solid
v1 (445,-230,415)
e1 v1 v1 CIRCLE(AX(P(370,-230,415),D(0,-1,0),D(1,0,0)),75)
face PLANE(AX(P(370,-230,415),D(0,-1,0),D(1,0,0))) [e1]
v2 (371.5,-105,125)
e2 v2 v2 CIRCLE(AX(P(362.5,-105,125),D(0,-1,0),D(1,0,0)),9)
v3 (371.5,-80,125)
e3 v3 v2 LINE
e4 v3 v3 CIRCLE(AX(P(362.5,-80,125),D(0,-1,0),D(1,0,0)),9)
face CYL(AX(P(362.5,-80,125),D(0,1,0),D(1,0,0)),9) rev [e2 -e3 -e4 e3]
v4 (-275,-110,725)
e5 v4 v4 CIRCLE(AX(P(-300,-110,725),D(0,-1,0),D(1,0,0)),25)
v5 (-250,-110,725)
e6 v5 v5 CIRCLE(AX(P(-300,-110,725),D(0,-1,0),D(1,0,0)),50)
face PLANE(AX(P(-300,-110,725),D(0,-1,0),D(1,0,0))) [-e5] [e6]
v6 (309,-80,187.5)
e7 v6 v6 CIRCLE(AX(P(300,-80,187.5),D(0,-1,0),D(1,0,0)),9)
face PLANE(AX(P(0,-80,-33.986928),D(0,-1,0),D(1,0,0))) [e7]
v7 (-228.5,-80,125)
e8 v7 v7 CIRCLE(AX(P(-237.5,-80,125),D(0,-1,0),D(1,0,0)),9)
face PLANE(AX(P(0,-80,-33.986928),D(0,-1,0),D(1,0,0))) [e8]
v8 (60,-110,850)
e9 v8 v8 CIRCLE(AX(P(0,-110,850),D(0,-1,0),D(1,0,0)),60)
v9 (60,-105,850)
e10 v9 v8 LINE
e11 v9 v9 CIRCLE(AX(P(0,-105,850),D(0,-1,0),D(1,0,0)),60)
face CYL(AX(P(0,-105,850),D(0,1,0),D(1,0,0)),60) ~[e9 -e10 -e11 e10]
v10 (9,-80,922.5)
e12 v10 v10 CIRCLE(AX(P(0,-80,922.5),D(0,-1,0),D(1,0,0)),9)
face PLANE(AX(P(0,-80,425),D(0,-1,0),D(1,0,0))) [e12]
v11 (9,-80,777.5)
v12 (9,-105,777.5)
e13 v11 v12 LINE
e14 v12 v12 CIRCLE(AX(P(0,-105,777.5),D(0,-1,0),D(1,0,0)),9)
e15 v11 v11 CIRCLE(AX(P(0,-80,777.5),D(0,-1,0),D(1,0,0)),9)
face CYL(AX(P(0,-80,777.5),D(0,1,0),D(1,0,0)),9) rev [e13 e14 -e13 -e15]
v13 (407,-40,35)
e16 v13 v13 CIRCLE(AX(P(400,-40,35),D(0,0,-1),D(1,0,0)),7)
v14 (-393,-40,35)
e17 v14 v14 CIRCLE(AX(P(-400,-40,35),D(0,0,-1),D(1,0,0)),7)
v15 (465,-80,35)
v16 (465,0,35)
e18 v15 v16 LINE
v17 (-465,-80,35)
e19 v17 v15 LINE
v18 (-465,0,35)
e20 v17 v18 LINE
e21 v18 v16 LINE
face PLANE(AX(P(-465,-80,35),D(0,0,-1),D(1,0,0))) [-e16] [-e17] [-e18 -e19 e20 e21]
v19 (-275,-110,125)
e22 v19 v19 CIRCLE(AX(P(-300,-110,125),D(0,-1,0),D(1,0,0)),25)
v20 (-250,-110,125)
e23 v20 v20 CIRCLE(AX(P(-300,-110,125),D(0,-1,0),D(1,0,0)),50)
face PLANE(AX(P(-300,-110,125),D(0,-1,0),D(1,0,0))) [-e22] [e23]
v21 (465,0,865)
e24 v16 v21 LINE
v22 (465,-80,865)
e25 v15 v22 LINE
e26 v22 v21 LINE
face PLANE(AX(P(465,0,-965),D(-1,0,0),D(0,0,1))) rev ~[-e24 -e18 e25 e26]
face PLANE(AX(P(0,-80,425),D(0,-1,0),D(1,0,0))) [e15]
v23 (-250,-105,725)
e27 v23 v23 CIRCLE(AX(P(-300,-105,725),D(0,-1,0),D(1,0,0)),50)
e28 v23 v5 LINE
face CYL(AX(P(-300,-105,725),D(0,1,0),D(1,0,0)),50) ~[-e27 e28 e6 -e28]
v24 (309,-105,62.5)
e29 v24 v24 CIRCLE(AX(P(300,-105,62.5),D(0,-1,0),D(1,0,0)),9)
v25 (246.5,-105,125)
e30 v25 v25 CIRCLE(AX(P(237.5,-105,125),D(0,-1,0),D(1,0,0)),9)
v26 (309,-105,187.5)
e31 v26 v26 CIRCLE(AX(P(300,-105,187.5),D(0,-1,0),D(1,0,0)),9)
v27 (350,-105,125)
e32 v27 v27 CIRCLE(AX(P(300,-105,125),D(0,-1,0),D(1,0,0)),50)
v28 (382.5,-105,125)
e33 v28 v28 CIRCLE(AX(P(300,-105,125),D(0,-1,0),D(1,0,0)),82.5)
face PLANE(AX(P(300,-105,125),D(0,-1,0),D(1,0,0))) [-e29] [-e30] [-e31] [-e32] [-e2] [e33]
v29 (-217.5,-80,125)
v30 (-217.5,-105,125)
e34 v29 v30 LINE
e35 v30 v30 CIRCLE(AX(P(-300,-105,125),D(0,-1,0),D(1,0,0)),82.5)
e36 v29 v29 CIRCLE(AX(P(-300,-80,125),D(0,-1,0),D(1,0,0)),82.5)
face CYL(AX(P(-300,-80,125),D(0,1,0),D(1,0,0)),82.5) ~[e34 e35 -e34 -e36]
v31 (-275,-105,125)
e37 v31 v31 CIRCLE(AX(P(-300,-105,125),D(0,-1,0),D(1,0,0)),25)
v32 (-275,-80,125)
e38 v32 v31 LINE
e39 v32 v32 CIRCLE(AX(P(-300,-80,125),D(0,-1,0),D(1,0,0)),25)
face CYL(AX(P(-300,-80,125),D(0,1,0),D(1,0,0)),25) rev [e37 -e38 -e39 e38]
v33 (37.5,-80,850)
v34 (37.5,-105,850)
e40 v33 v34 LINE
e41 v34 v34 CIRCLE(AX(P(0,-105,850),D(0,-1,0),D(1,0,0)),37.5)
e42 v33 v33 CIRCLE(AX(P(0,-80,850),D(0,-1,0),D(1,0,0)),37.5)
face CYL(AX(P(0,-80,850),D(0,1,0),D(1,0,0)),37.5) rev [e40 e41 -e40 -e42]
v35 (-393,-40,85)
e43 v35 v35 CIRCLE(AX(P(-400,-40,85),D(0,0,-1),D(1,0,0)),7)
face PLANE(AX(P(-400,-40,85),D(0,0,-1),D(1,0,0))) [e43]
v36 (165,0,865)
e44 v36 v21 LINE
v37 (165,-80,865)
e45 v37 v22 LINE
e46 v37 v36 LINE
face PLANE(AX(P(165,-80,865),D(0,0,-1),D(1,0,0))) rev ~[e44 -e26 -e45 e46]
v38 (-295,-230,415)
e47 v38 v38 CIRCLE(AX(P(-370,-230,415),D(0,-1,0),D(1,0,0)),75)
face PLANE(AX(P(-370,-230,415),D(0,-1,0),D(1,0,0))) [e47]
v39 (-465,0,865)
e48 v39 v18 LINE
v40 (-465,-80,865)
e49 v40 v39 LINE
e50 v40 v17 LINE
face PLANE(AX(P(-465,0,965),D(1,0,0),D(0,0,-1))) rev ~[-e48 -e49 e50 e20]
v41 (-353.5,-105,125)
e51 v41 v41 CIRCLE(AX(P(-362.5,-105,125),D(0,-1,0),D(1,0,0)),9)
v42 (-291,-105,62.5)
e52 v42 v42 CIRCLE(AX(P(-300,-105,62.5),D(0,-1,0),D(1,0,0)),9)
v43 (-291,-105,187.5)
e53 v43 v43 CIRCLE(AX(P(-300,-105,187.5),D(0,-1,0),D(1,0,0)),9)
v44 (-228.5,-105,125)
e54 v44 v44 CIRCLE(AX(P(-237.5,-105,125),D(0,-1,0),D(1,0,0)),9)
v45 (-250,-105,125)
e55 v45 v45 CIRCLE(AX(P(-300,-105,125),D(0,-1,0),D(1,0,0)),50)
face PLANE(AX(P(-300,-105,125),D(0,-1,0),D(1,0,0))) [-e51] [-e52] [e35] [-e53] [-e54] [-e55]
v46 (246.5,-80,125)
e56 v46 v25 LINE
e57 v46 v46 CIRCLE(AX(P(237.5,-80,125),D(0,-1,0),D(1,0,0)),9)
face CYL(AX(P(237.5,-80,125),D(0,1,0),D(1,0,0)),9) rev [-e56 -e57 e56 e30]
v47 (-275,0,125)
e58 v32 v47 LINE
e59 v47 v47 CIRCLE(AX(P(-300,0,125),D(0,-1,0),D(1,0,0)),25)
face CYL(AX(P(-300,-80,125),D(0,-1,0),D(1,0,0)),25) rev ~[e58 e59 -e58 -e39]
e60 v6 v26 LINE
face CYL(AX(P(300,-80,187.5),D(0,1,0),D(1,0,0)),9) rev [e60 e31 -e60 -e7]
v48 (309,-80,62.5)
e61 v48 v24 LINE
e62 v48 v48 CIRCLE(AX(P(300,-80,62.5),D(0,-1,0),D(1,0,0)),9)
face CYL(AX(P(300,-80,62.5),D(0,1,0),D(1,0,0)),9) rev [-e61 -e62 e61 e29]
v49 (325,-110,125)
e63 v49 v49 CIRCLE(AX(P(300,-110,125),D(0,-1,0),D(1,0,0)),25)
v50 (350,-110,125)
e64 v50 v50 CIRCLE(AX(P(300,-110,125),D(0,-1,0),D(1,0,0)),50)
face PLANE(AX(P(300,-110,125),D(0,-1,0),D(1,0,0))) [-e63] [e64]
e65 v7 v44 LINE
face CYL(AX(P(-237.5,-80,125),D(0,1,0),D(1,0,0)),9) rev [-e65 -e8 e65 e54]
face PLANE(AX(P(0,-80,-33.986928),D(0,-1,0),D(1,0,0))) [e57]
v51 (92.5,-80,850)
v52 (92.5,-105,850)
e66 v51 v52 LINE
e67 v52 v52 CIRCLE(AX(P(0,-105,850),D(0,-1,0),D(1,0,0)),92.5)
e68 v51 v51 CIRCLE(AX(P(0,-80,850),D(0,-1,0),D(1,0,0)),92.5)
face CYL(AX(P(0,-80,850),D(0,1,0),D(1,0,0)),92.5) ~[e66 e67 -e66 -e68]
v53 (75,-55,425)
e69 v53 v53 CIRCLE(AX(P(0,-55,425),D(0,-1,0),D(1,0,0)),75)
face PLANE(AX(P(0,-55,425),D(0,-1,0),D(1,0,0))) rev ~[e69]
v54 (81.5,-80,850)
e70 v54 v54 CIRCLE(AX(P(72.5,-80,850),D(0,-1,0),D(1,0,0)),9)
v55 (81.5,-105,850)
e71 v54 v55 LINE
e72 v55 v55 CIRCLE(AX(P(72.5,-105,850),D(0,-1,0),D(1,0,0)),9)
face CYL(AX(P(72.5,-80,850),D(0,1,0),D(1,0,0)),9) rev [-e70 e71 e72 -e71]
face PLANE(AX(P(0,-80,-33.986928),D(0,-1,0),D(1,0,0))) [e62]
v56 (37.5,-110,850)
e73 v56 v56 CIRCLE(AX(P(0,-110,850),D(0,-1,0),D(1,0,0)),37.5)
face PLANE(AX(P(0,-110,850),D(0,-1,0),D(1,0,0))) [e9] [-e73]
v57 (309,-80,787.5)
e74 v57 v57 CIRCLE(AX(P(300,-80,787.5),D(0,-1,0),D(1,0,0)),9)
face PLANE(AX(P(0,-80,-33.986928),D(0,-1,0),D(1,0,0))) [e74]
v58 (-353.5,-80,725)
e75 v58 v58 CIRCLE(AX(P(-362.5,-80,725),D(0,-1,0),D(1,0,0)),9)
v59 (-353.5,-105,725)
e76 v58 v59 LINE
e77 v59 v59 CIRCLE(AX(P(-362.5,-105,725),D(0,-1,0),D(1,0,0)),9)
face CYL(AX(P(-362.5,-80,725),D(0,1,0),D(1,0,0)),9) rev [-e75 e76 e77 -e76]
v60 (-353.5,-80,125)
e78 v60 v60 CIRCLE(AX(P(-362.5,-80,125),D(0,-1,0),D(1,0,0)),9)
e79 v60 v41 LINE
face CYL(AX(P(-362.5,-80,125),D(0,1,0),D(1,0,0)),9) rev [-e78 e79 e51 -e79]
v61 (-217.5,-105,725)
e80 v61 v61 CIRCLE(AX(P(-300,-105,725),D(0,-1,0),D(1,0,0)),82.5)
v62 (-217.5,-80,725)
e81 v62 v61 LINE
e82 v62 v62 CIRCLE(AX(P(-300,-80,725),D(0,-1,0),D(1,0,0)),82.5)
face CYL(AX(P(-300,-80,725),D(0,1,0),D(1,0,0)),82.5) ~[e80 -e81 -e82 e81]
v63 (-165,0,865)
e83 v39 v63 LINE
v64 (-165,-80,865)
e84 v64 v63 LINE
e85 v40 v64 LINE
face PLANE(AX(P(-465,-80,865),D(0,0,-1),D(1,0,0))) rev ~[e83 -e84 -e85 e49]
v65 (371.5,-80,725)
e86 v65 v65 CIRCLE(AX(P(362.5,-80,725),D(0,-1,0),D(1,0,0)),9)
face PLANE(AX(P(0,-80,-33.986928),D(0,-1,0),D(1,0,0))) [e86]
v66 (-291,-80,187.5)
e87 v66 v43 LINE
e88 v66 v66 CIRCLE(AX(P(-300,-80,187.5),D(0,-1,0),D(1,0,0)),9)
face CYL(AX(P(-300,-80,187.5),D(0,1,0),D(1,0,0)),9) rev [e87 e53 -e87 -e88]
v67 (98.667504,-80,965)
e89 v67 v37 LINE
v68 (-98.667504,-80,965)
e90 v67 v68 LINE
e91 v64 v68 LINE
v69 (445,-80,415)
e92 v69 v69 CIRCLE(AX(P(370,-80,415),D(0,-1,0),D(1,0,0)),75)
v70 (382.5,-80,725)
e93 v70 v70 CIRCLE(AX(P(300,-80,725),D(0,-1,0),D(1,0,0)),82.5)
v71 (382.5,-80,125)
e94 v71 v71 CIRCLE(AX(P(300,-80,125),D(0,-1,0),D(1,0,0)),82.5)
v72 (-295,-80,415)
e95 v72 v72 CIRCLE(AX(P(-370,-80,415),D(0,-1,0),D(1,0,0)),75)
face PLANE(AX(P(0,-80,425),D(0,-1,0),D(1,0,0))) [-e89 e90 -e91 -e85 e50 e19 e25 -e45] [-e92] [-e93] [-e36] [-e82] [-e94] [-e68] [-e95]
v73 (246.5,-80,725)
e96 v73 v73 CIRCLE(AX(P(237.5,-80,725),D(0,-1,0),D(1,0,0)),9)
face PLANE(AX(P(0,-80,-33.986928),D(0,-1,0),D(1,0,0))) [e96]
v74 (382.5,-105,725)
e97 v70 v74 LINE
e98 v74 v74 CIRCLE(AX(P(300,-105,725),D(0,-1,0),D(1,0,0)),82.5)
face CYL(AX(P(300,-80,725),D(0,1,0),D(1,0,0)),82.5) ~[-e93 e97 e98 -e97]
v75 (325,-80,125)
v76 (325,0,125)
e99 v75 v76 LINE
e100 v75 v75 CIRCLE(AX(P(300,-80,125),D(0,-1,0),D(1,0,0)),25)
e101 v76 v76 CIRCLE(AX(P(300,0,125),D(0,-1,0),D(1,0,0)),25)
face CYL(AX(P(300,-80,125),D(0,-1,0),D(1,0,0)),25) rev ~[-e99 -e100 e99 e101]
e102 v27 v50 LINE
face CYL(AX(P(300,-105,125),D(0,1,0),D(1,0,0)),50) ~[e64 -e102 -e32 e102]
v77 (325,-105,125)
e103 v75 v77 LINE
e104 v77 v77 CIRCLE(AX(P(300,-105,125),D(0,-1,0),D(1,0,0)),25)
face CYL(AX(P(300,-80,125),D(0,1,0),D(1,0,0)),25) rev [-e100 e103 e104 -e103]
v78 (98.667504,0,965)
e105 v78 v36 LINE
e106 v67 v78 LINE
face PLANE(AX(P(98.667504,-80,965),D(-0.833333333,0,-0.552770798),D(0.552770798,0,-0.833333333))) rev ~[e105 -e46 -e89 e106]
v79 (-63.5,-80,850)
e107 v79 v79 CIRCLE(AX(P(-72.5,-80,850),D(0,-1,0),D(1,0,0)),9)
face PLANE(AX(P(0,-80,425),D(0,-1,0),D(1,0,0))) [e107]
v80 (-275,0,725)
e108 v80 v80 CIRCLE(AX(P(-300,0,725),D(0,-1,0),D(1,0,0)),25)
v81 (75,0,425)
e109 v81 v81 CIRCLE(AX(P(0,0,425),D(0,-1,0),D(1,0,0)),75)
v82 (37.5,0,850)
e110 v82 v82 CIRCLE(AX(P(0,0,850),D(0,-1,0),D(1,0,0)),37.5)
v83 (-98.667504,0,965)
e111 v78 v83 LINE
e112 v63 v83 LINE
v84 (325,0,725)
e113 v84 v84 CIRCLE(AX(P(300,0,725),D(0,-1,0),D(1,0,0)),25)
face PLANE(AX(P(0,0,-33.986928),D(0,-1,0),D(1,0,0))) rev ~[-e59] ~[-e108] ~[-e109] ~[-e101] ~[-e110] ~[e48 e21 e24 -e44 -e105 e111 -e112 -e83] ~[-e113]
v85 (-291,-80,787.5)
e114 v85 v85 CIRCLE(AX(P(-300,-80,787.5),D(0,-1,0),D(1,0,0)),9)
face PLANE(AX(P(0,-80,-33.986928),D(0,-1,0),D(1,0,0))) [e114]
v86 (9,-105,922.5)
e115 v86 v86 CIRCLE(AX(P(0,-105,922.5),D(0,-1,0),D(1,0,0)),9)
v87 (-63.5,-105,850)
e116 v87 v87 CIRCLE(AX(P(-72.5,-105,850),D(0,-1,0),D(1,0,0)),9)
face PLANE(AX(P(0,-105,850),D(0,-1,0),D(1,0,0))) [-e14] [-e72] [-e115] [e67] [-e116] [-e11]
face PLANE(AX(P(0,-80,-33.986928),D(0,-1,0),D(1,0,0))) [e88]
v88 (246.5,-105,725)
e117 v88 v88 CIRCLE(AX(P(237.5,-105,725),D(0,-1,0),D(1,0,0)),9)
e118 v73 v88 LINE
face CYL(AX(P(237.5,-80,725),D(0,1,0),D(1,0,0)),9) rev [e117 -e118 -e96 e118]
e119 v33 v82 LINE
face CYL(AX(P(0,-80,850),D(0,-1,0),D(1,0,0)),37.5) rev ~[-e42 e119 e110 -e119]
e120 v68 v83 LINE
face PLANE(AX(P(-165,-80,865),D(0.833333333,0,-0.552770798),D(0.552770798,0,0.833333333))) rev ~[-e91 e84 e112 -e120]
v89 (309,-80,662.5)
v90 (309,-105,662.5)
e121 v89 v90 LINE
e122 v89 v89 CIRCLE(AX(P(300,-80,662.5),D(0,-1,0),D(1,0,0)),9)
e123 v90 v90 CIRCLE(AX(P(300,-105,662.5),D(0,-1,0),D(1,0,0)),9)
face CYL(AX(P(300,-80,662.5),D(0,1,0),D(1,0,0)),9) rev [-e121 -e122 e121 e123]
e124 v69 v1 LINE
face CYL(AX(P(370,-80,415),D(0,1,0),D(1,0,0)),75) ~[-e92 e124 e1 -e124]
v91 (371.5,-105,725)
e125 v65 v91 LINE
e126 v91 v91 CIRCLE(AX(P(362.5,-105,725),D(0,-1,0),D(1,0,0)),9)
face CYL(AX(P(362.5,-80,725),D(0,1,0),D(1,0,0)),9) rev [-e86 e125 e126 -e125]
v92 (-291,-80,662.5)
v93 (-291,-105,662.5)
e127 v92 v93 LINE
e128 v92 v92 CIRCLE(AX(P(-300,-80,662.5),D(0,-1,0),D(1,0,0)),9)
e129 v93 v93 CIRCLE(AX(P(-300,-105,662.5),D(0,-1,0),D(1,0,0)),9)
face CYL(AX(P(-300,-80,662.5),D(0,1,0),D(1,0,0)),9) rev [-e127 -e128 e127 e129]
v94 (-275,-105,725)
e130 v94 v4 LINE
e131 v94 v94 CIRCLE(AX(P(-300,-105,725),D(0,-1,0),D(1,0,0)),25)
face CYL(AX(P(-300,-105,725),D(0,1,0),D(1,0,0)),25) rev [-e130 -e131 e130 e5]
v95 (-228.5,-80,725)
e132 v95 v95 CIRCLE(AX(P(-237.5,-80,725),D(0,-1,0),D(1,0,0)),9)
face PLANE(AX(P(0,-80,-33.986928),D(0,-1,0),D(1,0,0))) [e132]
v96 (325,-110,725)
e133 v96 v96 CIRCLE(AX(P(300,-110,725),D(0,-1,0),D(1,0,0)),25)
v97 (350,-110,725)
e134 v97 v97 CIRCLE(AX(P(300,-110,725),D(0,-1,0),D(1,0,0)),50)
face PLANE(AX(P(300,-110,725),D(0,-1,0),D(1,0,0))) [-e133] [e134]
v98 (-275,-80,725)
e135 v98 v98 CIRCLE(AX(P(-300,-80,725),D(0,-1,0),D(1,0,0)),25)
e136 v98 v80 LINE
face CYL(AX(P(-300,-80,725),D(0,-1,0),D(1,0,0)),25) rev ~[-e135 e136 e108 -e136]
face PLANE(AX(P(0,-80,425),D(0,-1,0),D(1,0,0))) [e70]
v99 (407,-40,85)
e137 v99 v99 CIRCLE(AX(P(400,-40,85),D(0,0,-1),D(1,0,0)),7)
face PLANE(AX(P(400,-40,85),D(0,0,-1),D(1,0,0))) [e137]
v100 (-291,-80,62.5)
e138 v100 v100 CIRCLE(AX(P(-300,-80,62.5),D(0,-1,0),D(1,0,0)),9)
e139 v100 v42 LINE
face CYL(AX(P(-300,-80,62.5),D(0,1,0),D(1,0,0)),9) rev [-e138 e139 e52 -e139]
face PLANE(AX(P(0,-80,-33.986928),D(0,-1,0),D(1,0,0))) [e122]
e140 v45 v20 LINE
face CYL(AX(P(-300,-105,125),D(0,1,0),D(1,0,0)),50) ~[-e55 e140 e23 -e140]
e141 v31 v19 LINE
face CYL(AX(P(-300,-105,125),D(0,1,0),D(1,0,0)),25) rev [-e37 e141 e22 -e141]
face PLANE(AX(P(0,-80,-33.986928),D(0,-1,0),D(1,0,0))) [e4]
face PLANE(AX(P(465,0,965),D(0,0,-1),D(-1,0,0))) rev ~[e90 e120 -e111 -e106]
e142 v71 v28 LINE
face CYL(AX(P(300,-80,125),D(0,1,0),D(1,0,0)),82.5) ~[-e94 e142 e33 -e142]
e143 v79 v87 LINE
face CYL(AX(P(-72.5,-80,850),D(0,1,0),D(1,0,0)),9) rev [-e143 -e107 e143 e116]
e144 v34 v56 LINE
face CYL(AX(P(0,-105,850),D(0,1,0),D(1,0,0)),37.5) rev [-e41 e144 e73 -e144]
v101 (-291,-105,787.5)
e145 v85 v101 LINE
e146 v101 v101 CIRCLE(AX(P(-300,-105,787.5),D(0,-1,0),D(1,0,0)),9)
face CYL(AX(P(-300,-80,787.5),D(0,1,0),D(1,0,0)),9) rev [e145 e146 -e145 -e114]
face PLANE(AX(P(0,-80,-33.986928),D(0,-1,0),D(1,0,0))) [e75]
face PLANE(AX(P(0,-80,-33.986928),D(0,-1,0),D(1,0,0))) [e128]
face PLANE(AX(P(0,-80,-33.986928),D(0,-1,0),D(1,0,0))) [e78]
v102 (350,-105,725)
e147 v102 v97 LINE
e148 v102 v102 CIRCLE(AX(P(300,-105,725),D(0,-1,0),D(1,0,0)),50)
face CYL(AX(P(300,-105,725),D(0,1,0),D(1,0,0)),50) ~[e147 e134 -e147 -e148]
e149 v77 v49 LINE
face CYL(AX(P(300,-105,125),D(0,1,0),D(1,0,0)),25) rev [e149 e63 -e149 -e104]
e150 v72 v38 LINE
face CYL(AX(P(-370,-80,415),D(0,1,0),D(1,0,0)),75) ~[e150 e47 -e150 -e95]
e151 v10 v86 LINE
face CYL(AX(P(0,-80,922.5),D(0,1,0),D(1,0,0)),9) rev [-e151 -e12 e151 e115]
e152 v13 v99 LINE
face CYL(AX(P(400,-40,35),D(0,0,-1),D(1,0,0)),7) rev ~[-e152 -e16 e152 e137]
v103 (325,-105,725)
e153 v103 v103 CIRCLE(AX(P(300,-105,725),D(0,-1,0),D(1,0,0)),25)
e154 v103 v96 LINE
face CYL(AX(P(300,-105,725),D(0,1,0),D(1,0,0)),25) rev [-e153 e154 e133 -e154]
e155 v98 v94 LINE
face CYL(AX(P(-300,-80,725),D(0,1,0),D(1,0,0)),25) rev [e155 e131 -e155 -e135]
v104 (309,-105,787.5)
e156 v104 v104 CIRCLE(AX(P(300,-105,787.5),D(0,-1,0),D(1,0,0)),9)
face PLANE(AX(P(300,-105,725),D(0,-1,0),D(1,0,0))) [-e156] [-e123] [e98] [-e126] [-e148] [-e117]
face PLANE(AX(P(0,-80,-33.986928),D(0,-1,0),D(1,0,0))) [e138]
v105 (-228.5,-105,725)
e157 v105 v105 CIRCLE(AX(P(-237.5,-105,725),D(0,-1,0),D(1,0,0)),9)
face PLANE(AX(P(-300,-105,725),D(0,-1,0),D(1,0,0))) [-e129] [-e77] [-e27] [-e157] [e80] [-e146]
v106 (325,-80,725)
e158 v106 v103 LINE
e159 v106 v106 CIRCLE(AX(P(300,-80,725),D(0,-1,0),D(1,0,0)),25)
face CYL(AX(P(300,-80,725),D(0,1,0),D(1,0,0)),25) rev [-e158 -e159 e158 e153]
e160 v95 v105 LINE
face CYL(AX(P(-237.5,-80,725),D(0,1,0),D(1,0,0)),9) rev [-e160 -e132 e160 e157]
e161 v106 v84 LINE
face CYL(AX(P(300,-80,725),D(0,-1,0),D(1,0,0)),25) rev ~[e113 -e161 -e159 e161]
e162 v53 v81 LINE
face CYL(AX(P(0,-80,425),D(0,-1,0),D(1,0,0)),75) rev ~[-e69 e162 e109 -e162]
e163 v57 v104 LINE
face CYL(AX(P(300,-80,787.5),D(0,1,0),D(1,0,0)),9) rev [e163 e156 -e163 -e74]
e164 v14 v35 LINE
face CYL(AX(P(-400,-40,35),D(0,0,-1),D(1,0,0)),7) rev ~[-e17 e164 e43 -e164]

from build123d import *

# Parameters (mm, degrees)
F0_W      = 690
F0_H      = 350
F0_H_2    = 200
F1_DEPTH  = 80
F2_R      = 25
F2_R_2    = 75
F3_DEPTH  = 100
F4_R      = 75
F5_DEPTH  = 150
F6_R      = 82.5
F6_R_2    = 9
F6_R_3    = 25
F7_DEPTH  = 25
F8_R      = 50
F8_R_2    = 25
F9_DEPTH  = 5
F10_R     = 75
F11_DEPTH = 25
F12_R     = 37.5
F13_DEPTH = 100
F14_R     = 92.5
F14_R_2   = 9
F14_R_3   = 37.5
F15_DEPTH = 25
F16_R     = 60
F16_R_2   = 37.5
F17_DEPTH = 5
F18_W     = 930
F18_H     = 1000
F19_DEPTH = 100
F20_R     = 7
F21_DEPTH = 50
F22_W     = 300
F22_H     = 100
F23_DEPTH = 80


with BuildPart() as f1:
    # F0 (on Front) → F1 (new body)
    with BuildSketch(Plane.XZ):
        Polygon((345, -965), (465, -965), (465, 965), (-465, 965), (-465, -965), (-345, -965), (-345, -765), (345, -765), align=None)
        with Locations((0, -470)):
            Rectangle(F0_W, F0_H, mode=Mode.SUBTRACT)
        with Locations((0, -75)):
            Rectangle(F0_W, F0_H_2, mode=Mode.SUBTRACT)
    extrude(amount=F1_DEPTH)

    # F2 (on face) → F3 (cut)
    with BuildSketch(Plane.XZ.offset(80)):
        with Locations((-300, 125)):
            Circle(F2_R)
        with Locations((0, 425)):
            Circle(F2_R_2)
        with Locations((-300, 725)):
            Circle(F2_R)
        with Locations((300, 125)):
            Circle(F2_R)
        with Locations((300, 725)):
            Circle(F2_R)
    extrude(amount=-F3_DEPTH, mode=Mode.SUBTRACT)

    # F4 (on face) → F5 (join)
    with BuildSketch(Plane.XZ.offset(80)):
        with Locations((-370, 415)):
            Circle(F4_R)
        with Locations((370, 415)):
            Circle(F4_R)
    extrude(amount=F5_DEPTH)

    # F6 (on face) → F7 (join)
    with BuildSketch(Plane.XZ.offset(80)):
        with Locations((-300, 725)):
            Circle(F6_R)
        with Locations((-300, 662.5)):
            Circle(F6_R_2, mode=Mode.SUBTRACT)
        with Locations((-362.5, 725)):
            Circle(F6_R_2, mode=Mode.SUBTRACT)
        with Locations((-300, 725)):
            Circle(F6_R_3, mode=Mode.SUBTRACT)
        with Locations((-300, 787.5)):
            Circle(F6_R_2, mode=Mode.SUBTRACT)
        with Locations((-237.5, 725)):
            Circle(F6_R_2, mode=Mode.SUBTRACT)
        with Locations((-300, 125)):
            Circle(F6_R)
        with Locations((-300, 62.5)):
            Circle(F6_R_2, mode=Mode.SUBTRACT)
        with Locations((-362.5, 125)):
            Circle(F6_R_2, mode=Mode.SUBTRACT)
        with Locations((-300, 125)):
            Circle(F6_R_3, mode=Mode.SUBTRACT)
        with Locations((-237.5, 125)):
            Circle(F6_R_2, mode=Mode.SUBTRACT)
        with Locations((-300, 187.5)):
            Circle(F6_R_2, mode=Mode.SUBTRACT)
        with Locations((300, 725)):
            Circle(F6_R)
        with Locations((300, 662.5)):
            Circle(F6_R_2, mode=Mode.SUBTRACT)
        with Locations((237.5, 725)):
            Circle(F6_R_2, mode=Mode.SUBTRACT)
        with Locations((300, 725)):
            Circle(F6_R_3, mode=Mode.SUBTRACT)
        with Locations((362.5, 725)):
            Circle(F6_R_2, mode=Mode.SUBTRACT)
        with Locations((300, 787.5)):
            Circle(F6_R_2, mode=Mode.SUBTRACT)
        with Locations((300, 125)):
            Circle(F6_R)
        with Locations((237.5, 125)):
            Circle(F6_R_2, mode=Mode.SUBTRACT)
        with Locations((300, 62.5)):
            Circle(F6_R_2, mode=Mode.SUBTRACT)
        with Locations((300, 125)):
            Circle(F6_R_3, mode=Mode.SUBTRACT)
        with Locations((362.5, 125)):
            Circle(F6_R_2, mode=Mode.SUBTRACT)
        with Locations((300, 187.5)):
            Circle(F6_R_2, mode=Mode.SUBTRACT)
    extrude(amount=F7_DEPTH)

    # F8 (on face) → F9 (join)
    with BuildSketch(Plane.XZ.offset(105)):
        with Locations((-300, 725)):
            Circle(F8_R)
        with Locations((-300, 725)):
            Circle(F8_R_2, mode=Mode.SUBTRACT)
        with Locations((-300, 125)):
            Circle(F8_R)
        with Locations((-300, 125)):
            Circle(F8_R_2, mode=Mode.SUBTRACT)
        with Locations((300, 725)):
            Circle(F8_R)
        with Locations((300, 725)):
            Circle(F8_R_2, mode=Mode.SUBTRACT)
        with Locations((300, 125)):
            Circle(F8_R)
        with Locations((300, 125)):
            Circle(F8_R_2, mode=Mode.SUBTRACT)
    extrude(amount=F9_DEPTH)

    # F10 (on face) → F11 (join)
    with BuildSketch(Plane.XZ.offset(80)):
        with Locations((0, 425)):
            Circle(F10_R)
    extrude(amount=-F11_DEPTH)

    # F12 (on face) → F13 (cut)
    with BuildSketch(Plane.XZ.offset(80)):
        with Locations((0, 850)):
            Circle(F12_R)
    extrude(amount=-F13_DEPTH, mode=Mode.SUBTRACT)

    # F14 (on face) → F15 (join)
    with BuildSketch(Plane.XZ.offset(80)):
        with Locations((0, 850)):
            Circle(F14_R)
        with Locations((-72.5, 850)):
            Circle(F14_R_2, mode=Mode.SUBTRACT)
        with Locations((0, 777.5)):
            Circle(F14_R_2, mode=Mode.SUBTRACT)
        with Locations((0, 850)):
            Circle(F14_R_3, mode=Mode.SUBTRACT)
        with Locations((0, 922.5)):
            Circle(F14_R_2, mode=Mode.SUBTRACT)
        with Locations((72.5, 850)):
            Circle(F14_R_2, mode=Mode.SUBTRACT)
    extrude(amount=F15_DEPTH)

    # F16 (on face) → F17 (join)
    with BuildSketch(Plane.XZ.offset(105)):
        with Locations((0, 850)):
            Circle(F16_R)
        with Locations((0, 850)):
            Circle(F16_R_2, mode=Mode.SUBTRACT)
    extrude(amount=F17_DEPTH)

    # F18 (on face) → F19 (cut)
    with BuildSketch(Plane.XZ.offset(80)):
        with Locations((0, -465)):
            Rectangle(F18_W, F18_H)
    extrude(amount=-F19_DEPTH, mode=Mode.SUBTRACT)

    # F20 (on face) → F21 (cut)
    with BuildSketch(Plane(origin=(0, 0, 35), x_dir=(1, 0, 0), z_dir=(0, 0, -1))):
        with Locations((-400, 40)):
            Circle(F20_R)
        with Locations((400, 40)):
            Circle(F20_R)
    extrude(amount=-F21_DEPTH, mode=Mode.SUBTRACT)

    # F22 (on face) → F23 (cut)
    with BuildSketch(Plane.XZ.offset(80)):
        with Locations((-315, 915)):
            Rectangle(F22_W, F22_H)
        Polygon((-98.6675041929, 965), (-165, 965), (-165, 865), align=None)
        with Locations((315, 915)):
            Rectangle(F22_W, F22_H)
        Polygon((165, 865), (165, 965), (98.6675041929, 965), align=None)
    extrude(amount=-F23_DEPTH, mode=Mode.SUBTRACT)


solid = f1.part
